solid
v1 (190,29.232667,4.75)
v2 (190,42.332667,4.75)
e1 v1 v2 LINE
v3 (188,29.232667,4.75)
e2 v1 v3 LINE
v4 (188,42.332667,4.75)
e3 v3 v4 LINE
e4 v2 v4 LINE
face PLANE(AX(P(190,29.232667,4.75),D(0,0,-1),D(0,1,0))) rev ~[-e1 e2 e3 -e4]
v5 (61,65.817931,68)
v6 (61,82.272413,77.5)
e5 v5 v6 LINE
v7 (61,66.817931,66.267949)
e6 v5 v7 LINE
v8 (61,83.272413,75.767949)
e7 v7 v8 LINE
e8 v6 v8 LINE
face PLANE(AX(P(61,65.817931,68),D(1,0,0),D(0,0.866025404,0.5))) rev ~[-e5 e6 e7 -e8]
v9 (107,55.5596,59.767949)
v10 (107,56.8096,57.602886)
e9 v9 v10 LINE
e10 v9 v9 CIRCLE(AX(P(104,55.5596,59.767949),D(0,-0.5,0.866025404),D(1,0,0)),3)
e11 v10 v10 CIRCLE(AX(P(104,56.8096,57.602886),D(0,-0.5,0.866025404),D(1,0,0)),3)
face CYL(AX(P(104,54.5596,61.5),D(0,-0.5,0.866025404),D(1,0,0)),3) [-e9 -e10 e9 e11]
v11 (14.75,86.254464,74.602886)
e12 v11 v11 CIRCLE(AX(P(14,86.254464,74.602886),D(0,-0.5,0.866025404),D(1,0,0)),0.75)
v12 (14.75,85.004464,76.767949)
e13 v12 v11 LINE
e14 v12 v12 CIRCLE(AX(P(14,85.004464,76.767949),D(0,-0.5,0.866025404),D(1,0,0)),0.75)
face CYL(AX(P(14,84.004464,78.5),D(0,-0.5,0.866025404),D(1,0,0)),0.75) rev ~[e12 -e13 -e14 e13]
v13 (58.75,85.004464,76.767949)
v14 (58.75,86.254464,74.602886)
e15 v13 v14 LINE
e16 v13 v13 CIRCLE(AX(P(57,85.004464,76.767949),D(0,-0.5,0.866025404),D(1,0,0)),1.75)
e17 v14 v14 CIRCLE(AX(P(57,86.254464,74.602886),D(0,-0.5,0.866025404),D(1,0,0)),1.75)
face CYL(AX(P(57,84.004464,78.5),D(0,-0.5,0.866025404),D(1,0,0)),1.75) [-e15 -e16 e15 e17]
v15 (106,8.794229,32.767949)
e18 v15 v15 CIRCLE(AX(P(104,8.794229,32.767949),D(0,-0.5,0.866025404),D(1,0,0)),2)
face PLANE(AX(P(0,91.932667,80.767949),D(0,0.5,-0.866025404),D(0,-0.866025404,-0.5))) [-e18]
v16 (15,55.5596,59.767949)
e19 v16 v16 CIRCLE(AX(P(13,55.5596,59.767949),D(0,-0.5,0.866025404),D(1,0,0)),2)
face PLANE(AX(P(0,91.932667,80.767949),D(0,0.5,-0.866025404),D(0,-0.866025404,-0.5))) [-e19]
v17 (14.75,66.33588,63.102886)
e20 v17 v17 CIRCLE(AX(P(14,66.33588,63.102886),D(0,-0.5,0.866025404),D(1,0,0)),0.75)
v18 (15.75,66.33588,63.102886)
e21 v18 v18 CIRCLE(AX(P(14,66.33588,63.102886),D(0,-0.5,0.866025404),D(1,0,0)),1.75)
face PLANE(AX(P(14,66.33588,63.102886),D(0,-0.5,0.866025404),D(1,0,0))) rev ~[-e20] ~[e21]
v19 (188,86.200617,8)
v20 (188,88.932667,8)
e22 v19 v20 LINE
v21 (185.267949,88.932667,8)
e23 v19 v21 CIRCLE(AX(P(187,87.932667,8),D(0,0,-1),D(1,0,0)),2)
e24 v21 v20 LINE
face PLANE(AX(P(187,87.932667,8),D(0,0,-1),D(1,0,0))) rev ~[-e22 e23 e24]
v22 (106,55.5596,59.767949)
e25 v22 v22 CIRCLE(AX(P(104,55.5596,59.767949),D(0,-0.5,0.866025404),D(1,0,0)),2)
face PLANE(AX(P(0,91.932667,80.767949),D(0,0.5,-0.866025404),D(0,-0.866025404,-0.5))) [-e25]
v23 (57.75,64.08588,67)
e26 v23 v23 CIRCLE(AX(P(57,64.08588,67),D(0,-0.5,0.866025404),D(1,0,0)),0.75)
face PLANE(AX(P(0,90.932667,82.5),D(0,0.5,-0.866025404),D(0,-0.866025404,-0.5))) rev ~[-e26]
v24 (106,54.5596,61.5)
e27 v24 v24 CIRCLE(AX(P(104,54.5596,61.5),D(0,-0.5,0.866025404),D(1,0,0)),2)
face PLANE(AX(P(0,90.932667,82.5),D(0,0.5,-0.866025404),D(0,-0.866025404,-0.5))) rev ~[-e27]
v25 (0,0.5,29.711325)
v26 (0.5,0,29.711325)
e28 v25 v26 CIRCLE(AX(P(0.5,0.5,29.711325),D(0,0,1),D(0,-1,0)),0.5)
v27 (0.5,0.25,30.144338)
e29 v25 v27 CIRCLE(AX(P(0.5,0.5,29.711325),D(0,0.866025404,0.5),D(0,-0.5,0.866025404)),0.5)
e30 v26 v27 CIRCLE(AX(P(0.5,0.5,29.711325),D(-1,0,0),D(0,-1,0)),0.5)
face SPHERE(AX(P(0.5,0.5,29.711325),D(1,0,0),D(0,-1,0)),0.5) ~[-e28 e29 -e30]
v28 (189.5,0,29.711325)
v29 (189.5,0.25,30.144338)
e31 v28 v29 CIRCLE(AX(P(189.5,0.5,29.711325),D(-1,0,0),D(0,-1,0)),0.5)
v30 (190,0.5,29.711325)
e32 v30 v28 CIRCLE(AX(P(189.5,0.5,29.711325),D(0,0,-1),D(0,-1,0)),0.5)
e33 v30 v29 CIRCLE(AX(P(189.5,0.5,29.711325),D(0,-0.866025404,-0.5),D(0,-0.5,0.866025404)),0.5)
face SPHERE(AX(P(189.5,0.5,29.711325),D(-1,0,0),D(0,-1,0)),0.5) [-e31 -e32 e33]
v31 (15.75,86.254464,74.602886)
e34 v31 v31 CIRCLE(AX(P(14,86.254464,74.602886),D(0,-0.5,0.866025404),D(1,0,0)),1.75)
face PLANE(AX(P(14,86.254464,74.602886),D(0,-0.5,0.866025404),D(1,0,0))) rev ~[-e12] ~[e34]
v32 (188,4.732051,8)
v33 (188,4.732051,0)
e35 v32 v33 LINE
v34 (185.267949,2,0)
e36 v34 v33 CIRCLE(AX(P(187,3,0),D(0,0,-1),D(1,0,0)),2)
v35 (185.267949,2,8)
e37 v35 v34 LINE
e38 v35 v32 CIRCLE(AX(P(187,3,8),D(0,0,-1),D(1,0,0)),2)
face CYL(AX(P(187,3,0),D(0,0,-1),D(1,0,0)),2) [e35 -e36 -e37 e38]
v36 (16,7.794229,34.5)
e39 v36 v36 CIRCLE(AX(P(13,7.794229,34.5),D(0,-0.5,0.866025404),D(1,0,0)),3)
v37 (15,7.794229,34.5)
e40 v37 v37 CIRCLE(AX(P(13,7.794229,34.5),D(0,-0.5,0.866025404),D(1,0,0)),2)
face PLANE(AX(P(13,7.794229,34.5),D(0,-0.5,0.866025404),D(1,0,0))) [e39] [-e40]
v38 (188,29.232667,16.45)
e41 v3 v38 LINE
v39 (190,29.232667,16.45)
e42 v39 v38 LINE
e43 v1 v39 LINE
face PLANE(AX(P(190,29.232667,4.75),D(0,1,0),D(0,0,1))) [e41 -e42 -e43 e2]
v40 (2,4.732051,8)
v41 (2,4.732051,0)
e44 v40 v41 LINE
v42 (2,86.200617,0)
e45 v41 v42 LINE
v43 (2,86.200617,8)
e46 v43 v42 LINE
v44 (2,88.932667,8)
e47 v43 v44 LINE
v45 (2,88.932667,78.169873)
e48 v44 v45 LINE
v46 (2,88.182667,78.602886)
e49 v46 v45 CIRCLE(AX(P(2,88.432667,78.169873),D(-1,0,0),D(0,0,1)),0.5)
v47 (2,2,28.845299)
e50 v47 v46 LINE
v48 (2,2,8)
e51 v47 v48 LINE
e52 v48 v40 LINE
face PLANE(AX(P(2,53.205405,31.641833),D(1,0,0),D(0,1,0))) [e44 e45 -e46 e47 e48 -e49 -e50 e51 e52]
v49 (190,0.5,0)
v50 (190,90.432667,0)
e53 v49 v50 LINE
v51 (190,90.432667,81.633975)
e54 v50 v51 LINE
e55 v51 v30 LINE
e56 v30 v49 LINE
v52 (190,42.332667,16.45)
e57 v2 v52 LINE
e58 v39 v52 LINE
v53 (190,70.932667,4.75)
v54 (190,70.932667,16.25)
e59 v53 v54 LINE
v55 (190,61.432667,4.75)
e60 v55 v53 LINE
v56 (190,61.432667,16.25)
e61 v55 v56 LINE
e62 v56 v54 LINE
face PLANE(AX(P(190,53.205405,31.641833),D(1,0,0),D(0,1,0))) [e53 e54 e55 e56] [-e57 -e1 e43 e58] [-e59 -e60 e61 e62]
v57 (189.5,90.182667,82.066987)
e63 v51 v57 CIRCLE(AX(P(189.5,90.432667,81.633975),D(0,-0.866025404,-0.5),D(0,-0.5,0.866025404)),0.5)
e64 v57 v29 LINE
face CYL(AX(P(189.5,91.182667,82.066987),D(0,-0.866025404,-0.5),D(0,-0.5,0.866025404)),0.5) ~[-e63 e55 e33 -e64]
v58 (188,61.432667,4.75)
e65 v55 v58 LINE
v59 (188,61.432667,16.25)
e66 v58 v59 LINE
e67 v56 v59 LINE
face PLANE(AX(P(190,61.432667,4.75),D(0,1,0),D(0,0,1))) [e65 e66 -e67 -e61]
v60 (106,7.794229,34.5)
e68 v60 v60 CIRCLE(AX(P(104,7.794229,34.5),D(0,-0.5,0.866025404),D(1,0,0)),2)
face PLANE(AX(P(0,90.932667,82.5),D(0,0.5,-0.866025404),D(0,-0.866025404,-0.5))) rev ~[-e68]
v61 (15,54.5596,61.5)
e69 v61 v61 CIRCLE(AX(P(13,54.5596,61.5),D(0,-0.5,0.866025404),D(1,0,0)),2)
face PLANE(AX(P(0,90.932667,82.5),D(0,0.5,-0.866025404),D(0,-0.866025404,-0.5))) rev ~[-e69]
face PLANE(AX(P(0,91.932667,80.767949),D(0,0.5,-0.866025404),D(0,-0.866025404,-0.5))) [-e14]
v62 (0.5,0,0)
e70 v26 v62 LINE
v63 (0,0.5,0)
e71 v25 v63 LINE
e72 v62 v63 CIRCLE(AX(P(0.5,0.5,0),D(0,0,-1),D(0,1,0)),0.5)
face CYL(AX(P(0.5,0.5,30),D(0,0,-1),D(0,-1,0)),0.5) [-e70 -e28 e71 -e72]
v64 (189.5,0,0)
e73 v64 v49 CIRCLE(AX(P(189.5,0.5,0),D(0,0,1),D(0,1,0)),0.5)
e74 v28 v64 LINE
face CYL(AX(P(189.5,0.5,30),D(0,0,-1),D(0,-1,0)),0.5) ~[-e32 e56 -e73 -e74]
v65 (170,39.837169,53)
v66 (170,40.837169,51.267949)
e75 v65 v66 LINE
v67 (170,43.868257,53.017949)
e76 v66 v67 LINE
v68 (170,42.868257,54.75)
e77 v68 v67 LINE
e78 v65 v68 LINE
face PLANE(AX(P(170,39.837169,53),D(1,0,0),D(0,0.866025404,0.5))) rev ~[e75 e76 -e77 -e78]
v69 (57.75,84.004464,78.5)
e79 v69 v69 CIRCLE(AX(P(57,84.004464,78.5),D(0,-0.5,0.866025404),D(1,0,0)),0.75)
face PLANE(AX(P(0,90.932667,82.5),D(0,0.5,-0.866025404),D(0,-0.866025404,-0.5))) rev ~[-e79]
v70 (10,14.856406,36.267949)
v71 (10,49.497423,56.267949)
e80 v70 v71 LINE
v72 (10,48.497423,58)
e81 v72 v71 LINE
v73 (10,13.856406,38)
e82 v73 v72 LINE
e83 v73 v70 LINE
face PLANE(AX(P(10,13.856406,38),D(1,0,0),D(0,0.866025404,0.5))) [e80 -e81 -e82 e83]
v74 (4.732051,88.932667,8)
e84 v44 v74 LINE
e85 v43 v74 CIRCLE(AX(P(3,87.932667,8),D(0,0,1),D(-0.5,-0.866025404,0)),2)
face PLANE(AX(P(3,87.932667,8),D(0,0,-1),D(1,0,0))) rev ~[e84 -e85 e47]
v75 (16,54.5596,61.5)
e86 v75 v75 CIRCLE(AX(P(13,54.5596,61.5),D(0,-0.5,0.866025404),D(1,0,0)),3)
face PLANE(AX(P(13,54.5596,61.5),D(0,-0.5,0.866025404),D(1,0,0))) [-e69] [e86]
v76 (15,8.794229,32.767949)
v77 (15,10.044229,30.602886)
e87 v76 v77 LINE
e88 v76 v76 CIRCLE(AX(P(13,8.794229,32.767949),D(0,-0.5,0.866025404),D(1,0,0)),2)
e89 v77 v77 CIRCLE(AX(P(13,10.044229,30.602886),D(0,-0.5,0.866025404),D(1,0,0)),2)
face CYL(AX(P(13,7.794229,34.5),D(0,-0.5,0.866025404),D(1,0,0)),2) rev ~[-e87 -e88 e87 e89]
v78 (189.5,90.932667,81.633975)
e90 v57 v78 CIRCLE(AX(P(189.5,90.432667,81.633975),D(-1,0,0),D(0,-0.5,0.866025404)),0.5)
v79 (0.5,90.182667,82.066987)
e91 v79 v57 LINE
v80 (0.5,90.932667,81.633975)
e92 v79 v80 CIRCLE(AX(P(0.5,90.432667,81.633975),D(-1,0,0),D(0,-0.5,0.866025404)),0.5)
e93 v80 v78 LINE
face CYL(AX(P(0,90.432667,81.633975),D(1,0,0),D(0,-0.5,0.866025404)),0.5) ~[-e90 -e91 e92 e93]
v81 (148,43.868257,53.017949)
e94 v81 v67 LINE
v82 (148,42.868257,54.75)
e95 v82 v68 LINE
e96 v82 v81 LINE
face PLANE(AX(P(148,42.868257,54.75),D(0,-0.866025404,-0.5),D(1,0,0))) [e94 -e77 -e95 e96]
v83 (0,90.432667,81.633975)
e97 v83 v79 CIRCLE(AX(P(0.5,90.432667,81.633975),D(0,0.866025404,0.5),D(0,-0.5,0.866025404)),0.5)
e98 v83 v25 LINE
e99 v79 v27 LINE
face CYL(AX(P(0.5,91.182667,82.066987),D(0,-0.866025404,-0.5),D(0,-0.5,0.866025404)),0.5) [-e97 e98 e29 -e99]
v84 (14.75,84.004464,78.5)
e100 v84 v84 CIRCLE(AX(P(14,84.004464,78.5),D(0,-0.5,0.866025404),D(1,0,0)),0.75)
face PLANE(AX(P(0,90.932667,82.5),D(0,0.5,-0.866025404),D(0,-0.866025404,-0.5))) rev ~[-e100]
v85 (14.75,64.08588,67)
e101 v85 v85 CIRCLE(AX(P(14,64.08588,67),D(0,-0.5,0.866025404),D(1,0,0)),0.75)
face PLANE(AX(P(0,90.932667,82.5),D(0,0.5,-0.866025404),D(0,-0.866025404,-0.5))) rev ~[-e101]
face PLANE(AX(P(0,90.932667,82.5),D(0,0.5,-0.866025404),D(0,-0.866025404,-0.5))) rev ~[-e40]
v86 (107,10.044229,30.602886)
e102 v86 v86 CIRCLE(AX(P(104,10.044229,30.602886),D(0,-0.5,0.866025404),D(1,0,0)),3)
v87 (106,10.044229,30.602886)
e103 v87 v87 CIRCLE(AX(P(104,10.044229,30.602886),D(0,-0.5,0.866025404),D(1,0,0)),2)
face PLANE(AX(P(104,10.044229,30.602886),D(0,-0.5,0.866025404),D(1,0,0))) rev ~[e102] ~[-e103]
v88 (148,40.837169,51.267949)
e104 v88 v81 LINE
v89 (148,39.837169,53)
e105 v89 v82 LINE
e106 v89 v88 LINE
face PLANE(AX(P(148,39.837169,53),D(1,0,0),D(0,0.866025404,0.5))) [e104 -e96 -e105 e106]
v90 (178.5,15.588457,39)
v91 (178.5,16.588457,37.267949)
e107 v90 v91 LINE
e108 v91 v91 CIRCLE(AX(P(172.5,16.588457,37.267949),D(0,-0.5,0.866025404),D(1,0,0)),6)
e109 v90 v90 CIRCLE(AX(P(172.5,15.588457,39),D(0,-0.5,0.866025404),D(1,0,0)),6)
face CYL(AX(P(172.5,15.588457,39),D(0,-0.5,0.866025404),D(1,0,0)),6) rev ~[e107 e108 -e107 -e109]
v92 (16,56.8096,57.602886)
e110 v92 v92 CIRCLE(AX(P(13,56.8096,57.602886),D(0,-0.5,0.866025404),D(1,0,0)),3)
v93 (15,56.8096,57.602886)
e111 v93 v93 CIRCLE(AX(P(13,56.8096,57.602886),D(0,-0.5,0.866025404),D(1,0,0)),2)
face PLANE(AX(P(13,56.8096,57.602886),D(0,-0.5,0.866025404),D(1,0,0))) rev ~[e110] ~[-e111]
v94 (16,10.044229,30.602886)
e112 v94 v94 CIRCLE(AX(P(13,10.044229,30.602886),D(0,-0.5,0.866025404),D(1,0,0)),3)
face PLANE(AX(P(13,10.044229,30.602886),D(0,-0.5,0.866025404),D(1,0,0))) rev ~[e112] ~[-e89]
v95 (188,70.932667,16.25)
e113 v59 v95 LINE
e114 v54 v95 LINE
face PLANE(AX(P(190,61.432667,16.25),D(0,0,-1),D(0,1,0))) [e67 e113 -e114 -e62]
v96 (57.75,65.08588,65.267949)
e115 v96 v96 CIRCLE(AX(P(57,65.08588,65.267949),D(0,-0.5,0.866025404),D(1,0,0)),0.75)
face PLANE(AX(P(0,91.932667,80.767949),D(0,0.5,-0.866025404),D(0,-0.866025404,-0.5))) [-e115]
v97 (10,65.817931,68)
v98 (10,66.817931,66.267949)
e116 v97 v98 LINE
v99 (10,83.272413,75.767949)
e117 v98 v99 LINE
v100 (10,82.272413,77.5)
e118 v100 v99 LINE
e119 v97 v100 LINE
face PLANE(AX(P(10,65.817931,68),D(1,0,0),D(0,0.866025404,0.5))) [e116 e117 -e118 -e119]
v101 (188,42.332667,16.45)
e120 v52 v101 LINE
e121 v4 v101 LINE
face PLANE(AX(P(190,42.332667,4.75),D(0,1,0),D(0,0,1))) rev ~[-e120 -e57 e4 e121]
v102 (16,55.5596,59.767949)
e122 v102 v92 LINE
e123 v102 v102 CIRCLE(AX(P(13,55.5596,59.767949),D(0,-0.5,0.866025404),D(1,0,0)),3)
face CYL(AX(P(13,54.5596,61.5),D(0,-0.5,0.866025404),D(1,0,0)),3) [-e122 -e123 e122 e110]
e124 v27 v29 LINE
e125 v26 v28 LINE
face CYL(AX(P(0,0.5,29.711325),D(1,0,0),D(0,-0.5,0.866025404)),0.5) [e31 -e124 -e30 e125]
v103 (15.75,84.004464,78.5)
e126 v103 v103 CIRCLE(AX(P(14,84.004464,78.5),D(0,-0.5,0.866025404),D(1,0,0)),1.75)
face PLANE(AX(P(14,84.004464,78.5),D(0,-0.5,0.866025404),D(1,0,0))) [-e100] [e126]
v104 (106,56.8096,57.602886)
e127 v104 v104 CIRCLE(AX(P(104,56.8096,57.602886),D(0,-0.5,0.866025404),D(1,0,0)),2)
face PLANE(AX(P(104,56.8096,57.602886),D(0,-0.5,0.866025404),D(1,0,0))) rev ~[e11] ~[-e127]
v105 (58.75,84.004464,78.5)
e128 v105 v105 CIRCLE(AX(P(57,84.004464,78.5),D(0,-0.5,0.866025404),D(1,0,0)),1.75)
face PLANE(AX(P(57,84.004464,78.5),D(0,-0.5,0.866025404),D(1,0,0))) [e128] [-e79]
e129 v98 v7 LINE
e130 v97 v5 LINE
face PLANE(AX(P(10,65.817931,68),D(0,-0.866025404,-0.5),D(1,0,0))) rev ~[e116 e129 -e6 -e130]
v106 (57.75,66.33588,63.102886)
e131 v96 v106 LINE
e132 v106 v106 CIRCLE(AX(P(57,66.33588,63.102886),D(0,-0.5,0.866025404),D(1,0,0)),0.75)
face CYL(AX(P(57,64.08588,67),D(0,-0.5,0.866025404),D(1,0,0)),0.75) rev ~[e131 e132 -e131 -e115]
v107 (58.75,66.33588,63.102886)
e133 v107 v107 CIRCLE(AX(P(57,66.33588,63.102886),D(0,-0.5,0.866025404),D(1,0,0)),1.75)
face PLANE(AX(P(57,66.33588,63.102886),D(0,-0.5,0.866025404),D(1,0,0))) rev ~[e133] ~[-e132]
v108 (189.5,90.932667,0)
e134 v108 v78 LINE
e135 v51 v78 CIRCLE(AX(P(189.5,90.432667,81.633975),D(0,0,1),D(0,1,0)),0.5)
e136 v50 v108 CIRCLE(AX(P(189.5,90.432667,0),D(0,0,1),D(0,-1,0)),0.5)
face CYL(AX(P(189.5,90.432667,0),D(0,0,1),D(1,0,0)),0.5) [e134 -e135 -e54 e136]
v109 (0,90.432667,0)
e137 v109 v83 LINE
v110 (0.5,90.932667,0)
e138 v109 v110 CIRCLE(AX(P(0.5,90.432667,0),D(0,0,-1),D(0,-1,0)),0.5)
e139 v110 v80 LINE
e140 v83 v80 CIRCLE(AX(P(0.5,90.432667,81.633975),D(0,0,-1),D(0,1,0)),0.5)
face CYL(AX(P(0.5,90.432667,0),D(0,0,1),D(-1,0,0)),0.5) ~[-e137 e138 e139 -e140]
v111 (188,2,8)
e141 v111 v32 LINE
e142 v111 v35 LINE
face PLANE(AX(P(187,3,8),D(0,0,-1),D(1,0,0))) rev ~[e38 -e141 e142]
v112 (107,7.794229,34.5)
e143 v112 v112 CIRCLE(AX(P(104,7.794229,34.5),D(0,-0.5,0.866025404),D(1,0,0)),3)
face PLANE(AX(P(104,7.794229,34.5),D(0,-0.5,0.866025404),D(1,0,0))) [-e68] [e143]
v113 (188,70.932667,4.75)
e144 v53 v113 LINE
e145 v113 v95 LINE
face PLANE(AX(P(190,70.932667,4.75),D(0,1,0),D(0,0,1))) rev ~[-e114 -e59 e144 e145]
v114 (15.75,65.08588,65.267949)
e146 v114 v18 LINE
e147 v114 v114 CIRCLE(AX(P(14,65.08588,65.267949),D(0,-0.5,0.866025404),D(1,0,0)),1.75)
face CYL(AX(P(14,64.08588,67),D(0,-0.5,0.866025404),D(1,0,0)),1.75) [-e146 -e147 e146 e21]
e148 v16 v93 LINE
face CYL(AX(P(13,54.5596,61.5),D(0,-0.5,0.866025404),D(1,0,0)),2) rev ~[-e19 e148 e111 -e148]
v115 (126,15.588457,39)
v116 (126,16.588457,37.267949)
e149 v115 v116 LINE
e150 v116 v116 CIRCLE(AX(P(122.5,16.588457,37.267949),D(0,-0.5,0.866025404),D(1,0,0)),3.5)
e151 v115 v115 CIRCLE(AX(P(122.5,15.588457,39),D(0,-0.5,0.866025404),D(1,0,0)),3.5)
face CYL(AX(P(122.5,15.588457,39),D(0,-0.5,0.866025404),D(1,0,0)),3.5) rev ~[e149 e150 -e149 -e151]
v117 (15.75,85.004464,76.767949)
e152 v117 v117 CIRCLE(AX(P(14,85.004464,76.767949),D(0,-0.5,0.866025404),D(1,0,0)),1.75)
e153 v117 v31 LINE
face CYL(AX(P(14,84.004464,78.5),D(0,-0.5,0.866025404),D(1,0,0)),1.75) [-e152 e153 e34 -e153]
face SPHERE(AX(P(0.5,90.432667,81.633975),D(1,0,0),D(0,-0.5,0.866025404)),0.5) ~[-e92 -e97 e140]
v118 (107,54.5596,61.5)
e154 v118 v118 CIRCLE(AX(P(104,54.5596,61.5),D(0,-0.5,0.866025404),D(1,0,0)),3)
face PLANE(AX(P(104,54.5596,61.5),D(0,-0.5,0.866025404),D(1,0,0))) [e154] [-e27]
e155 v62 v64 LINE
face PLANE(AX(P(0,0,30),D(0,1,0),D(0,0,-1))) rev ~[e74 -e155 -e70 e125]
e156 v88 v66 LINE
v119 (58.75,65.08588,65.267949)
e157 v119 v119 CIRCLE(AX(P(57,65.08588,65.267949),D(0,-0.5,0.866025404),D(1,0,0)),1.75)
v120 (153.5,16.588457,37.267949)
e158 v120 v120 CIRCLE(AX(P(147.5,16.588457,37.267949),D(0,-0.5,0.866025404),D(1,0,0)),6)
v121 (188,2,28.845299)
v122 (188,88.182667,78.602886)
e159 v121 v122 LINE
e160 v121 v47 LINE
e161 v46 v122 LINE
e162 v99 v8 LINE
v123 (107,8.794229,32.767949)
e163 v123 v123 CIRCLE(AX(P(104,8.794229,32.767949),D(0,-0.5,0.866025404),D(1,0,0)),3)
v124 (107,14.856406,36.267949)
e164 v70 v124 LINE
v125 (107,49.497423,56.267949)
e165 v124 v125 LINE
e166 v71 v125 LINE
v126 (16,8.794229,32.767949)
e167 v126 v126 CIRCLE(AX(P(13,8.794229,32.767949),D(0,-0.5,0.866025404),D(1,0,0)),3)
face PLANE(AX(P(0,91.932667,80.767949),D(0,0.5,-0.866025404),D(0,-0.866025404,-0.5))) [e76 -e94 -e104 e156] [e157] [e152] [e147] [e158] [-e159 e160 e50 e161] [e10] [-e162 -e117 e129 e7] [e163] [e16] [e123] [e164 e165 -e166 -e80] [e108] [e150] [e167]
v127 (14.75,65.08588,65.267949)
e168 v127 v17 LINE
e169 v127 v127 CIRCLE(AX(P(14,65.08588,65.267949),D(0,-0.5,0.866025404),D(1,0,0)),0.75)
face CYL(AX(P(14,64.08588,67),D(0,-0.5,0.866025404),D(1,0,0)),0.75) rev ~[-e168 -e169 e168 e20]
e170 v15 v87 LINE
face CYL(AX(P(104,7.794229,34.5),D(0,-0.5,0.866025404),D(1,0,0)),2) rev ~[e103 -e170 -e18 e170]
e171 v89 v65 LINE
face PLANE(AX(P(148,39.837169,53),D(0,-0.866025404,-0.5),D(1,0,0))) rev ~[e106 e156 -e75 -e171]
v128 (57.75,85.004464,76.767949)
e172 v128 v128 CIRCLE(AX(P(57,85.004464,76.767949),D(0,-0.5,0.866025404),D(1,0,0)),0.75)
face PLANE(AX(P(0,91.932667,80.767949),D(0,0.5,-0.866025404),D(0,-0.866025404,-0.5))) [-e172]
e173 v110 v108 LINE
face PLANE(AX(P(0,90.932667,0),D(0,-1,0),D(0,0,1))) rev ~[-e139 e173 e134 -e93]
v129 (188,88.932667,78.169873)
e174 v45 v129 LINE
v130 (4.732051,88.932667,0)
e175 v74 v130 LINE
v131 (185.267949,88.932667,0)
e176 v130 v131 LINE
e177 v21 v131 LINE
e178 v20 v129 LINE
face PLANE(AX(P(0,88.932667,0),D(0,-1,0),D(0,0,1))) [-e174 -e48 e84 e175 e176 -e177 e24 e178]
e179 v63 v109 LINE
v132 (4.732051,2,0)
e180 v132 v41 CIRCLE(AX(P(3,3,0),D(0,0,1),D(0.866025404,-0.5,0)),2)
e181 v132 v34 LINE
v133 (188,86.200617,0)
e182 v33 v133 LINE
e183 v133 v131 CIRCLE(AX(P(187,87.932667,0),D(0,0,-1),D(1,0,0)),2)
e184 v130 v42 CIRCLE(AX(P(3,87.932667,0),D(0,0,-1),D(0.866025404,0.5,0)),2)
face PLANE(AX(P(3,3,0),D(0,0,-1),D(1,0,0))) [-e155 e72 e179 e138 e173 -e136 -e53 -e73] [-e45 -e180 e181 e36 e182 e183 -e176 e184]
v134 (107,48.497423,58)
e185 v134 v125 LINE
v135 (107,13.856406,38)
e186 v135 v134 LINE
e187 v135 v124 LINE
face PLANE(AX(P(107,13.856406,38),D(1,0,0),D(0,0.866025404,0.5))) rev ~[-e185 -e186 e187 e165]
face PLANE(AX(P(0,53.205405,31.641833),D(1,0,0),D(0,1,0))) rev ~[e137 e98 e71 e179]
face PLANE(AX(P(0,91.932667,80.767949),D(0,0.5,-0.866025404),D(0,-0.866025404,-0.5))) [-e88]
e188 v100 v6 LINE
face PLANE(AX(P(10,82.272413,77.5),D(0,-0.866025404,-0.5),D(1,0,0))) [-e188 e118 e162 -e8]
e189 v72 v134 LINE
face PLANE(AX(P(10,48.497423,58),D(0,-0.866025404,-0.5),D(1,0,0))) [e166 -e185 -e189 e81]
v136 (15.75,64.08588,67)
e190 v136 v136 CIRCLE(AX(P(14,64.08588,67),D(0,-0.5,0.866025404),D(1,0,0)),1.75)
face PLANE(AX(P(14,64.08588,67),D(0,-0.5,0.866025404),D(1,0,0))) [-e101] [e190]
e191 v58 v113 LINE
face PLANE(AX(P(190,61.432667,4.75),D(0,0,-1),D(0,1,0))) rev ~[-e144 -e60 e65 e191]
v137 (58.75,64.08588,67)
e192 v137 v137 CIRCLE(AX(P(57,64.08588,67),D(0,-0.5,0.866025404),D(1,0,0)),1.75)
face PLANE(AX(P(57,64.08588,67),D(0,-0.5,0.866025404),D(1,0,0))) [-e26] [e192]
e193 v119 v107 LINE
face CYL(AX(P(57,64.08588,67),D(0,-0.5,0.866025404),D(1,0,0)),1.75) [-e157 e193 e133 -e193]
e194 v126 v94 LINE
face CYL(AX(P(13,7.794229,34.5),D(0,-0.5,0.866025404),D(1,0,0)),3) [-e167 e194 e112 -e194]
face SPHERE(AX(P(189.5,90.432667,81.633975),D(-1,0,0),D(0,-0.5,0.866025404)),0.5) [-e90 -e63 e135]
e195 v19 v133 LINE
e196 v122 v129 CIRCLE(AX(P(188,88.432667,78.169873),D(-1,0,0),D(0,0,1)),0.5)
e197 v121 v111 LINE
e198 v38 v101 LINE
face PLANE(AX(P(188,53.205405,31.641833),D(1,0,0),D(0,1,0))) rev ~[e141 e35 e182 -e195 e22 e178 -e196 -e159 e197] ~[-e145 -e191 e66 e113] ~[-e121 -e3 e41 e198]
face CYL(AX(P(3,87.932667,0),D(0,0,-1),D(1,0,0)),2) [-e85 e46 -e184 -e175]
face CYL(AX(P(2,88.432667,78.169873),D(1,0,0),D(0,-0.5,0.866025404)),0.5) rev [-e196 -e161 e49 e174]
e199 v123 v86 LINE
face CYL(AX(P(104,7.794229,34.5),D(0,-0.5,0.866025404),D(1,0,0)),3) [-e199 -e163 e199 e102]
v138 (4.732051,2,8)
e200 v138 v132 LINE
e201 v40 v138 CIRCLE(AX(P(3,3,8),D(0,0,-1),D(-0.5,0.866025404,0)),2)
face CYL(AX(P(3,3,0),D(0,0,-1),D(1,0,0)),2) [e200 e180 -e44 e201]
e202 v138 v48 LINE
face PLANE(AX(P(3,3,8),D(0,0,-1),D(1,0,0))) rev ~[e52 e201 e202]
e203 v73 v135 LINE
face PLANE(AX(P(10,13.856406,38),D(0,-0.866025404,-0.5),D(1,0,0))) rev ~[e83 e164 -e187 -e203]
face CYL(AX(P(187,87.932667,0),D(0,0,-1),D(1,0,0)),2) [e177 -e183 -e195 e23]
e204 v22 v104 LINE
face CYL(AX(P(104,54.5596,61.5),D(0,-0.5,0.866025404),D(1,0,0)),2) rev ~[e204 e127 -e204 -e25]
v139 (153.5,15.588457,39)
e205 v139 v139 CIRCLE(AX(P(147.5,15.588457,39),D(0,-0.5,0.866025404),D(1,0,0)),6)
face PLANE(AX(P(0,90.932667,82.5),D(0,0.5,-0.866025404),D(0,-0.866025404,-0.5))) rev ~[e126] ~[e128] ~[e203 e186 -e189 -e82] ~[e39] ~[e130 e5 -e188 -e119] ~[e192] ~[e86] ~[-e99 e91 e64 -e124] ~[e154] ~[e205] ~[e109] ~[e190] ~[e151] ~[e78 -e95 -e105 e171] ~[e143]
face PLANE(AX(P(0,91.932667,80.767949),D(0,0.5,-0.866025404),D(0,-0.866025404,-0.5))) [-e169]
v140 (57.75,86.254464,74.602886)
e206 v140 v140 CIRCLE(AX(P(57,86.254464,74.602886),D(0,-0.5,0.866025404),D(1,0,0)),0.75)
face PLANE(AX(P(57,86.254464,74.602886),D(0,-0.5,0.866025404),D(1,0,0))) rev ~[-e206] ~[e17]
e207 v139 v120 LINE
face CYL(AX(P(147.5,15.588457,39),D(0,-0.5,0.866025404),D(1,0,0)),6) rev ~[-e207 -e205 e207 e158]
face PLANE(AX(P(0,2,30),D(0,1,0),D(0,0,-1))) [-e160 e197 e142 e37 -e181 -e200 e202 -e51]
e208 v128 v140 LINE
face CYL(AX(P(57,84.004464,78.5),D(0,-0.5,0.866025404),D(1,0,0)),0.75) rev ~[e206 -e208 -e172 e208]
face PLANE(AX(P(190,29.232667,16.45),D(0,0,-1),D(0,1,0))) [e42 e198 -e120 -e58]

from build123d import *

# Parameters (mm, degrees)
F1_DEPTH  = 190
F2_T      = -2
F3_W      = 51
F3_H      = 19
F3_W_2    = 97
F3_H_2    = 40
F4_DEPTH  = 2
F5_R      = 3.5
F5_R_2    = 6
F6_DEPTH  = 2
F7_W      = 9.5
F7_H      = 11.5
F7_W_2    = 13.1
F7_H_2    = 11.7
F8_DEPTH  = 2
F9_W      = 22
F9_H      = 3.5
F10_DEPTH = 2
F11_R     = 1.75
F11_R_2   = 0.75
F12_DEPTH = 4.5
F13_R     = 3
F13_R_2   = 2
F14_DEPTH = 4.5
F15_R     = 2
F16_DEPTH = 8
F17_R     = 0.5


with BuildPart() as f1:
    # F0 (on Right) → F1 (new body)
    with BuildSketch(Plane.YZ):
        Polygon((0, 30), (0, 0), (90.9326673974, 0), (90.9326673974, 82.5), align=None)
    extrude(amount=F1_DEPTH)

    # F2
    f2_openings = [f1.faces().sort_by_distance(p)[0] for p in [
        (95, 45.466334, 0),
    ]]
    offset(amount=F2_T, openings=f2_openings)

    # F3 (on face) → F4 (cut)
    with BuildSketch(Plane(origin=(0, -12.9903810568, 22.5), x_dir=(1, 0, 0), z_dir=(0, -0.5, 0.8660254038))):
        with Locations((35.5, 100.5)):
            Rectangle(F3_W, F3_H)
        with Locations((58.5, 51)):
            Rectangle(F3_W_2, F3_H_2)
    extrude(amount=-F4_DEPTH, mode=Mode.SUBTRACT)

    # F5 (on face) → F6 (cut)
    with BuildSketch(Plane(origin=(0, -12.9903810568, 22.5), x_dir=(1, 0, 0), z_dir=(0, -0.5, 0.8660254038))):
        with Locations((122.5, 33)):
            Circle(F5_R)
        with Locations((147.5, 33)):
            Circle(F5_R_2)
        with Locations((172.5, 33)):
            Circle(F5_R_2)
    extrude(amount=-F6_DEPTH, mode=Mode.SUBTRACT)

    # F7 (on face) → F8 (cut)
    with BuildSketch(Plane.YZ.offset(190)):
        with Locations((66.1826673974, 10.5)):
            Rectangle(F7_W, F7_H)
        with Locations((35.7826673974, 10.6)):
            Rectangle(F7_W_2, F7_H_2)
    extrude(amount=-F8_DEPTH, mode=Mode.SUBTRACT)

    # F9 (on face) → F10 (cut)
    with BuildSketch(Plane(origin=(0, -12.9903810568, 22.5), x_dir=(1, 0, 0), z_dir=(0, -0.5, 0.8660254038))):
        with Locations((159, 62.75)):
            Rectangle(F9_W, F9_H)
    extrude(amount=-F10_DEPTH, mode=Mode.SUBTRACT)

    # F11 (on face) → F12 (join)
    with BuildSketch(Plane(origin=(0, -12.9903810568, 22.5), x_dir=(1, 0, 0), z_dir=(0, -0.5, 0.8660254038))):
        with Locations((14, 112)):
            Circle(F11_R)
        with Locations((14, 112)):
            Circle(F11_R_2, mode=Mode.SUBTRACT)
        with Locations((14, 89)):
            Circle(F11_R)
        with Locations((14, 89)):
            Circle(F11_R_2, mode=Mode.SUBTRACT)
        with Locations((57, 112)):
            Circle(F11_R)
        with Locations((57, 112)):
            Circle(F11_R_2, mode=Mode.SUBTRACT)
        with Locations((57, 89)):
            Circle(F11_R)
        with Locations((57, 89)):
            Circle(F11_R_2, mode=Mode.SUBTRACT)
    extrude(amount=-F12_DEPTH)

    # F13 (on face) → F14 (join)
    with BuildSketch(Plane(origin=(0, -12.9903810568, 22.5), x_dir=(1, 0, 0), z_dir=(0, -0.5, 0.8660254038))):
        with Locations((13, 78)):
            Circle(F13_R)
        with Locations((13, 78)):
            Circle(F13_R_2, mode=Mode.SUBTRACT)
        with Locations((104, 78)):
            Circle(F13_R)
        with Locations((104, 78)):
            Circle(F13_R_2, mode=Mode.SUBTRACT)
        with Locations((104, 24)):
            Circle(F13_R)
        with Locations((104, 24)):
            Circle(F13_R_2, mode=Mode.SUBTRACT)
        with Locations((13, 24)):
            Circle(F13_R)
        with Locations((13, 24)):
            Circle(F13_R_2, mode=Mode.SUBTRACT)
    extrude(amount=-F14_DEPTH)

    # F15 (on face) → F16 (join)
    with BuildSketch(Plane(origin=(0, 0, 0), x_dir=(1, 0, 0), z_dir=(0, 0, -1))):
        with Locations((3, -3)):
            Circle(F15_R)
        with Locations((3, -87.9326673974)):
            Circle(F15_R)
        with Locations((187, -3)):
            Circle(F15_R)
        with Locations((187, -87.9326673974)):
            Circle(F15_R)
    extrude(amount=-F16_DEPTH)

    # F17
    f17_edges = [f1.edges().sort_by_distance(p)[0] for p in [
        (190, 45.466334, 56.25),
        (0, 45.466334, 56.25),
        (95, 0, 30),
        (0, 0, 15),
        (190, 90.932667, 41.25),
        (0, 90.932667, 41.25),
        (95, 90.932667, 82.5),
        (95, 88.932667, 79.035898),
        (190, 0, 15),
    ]]
    fillet(f17_edges, radius=F17_R)


solid = f1.part
